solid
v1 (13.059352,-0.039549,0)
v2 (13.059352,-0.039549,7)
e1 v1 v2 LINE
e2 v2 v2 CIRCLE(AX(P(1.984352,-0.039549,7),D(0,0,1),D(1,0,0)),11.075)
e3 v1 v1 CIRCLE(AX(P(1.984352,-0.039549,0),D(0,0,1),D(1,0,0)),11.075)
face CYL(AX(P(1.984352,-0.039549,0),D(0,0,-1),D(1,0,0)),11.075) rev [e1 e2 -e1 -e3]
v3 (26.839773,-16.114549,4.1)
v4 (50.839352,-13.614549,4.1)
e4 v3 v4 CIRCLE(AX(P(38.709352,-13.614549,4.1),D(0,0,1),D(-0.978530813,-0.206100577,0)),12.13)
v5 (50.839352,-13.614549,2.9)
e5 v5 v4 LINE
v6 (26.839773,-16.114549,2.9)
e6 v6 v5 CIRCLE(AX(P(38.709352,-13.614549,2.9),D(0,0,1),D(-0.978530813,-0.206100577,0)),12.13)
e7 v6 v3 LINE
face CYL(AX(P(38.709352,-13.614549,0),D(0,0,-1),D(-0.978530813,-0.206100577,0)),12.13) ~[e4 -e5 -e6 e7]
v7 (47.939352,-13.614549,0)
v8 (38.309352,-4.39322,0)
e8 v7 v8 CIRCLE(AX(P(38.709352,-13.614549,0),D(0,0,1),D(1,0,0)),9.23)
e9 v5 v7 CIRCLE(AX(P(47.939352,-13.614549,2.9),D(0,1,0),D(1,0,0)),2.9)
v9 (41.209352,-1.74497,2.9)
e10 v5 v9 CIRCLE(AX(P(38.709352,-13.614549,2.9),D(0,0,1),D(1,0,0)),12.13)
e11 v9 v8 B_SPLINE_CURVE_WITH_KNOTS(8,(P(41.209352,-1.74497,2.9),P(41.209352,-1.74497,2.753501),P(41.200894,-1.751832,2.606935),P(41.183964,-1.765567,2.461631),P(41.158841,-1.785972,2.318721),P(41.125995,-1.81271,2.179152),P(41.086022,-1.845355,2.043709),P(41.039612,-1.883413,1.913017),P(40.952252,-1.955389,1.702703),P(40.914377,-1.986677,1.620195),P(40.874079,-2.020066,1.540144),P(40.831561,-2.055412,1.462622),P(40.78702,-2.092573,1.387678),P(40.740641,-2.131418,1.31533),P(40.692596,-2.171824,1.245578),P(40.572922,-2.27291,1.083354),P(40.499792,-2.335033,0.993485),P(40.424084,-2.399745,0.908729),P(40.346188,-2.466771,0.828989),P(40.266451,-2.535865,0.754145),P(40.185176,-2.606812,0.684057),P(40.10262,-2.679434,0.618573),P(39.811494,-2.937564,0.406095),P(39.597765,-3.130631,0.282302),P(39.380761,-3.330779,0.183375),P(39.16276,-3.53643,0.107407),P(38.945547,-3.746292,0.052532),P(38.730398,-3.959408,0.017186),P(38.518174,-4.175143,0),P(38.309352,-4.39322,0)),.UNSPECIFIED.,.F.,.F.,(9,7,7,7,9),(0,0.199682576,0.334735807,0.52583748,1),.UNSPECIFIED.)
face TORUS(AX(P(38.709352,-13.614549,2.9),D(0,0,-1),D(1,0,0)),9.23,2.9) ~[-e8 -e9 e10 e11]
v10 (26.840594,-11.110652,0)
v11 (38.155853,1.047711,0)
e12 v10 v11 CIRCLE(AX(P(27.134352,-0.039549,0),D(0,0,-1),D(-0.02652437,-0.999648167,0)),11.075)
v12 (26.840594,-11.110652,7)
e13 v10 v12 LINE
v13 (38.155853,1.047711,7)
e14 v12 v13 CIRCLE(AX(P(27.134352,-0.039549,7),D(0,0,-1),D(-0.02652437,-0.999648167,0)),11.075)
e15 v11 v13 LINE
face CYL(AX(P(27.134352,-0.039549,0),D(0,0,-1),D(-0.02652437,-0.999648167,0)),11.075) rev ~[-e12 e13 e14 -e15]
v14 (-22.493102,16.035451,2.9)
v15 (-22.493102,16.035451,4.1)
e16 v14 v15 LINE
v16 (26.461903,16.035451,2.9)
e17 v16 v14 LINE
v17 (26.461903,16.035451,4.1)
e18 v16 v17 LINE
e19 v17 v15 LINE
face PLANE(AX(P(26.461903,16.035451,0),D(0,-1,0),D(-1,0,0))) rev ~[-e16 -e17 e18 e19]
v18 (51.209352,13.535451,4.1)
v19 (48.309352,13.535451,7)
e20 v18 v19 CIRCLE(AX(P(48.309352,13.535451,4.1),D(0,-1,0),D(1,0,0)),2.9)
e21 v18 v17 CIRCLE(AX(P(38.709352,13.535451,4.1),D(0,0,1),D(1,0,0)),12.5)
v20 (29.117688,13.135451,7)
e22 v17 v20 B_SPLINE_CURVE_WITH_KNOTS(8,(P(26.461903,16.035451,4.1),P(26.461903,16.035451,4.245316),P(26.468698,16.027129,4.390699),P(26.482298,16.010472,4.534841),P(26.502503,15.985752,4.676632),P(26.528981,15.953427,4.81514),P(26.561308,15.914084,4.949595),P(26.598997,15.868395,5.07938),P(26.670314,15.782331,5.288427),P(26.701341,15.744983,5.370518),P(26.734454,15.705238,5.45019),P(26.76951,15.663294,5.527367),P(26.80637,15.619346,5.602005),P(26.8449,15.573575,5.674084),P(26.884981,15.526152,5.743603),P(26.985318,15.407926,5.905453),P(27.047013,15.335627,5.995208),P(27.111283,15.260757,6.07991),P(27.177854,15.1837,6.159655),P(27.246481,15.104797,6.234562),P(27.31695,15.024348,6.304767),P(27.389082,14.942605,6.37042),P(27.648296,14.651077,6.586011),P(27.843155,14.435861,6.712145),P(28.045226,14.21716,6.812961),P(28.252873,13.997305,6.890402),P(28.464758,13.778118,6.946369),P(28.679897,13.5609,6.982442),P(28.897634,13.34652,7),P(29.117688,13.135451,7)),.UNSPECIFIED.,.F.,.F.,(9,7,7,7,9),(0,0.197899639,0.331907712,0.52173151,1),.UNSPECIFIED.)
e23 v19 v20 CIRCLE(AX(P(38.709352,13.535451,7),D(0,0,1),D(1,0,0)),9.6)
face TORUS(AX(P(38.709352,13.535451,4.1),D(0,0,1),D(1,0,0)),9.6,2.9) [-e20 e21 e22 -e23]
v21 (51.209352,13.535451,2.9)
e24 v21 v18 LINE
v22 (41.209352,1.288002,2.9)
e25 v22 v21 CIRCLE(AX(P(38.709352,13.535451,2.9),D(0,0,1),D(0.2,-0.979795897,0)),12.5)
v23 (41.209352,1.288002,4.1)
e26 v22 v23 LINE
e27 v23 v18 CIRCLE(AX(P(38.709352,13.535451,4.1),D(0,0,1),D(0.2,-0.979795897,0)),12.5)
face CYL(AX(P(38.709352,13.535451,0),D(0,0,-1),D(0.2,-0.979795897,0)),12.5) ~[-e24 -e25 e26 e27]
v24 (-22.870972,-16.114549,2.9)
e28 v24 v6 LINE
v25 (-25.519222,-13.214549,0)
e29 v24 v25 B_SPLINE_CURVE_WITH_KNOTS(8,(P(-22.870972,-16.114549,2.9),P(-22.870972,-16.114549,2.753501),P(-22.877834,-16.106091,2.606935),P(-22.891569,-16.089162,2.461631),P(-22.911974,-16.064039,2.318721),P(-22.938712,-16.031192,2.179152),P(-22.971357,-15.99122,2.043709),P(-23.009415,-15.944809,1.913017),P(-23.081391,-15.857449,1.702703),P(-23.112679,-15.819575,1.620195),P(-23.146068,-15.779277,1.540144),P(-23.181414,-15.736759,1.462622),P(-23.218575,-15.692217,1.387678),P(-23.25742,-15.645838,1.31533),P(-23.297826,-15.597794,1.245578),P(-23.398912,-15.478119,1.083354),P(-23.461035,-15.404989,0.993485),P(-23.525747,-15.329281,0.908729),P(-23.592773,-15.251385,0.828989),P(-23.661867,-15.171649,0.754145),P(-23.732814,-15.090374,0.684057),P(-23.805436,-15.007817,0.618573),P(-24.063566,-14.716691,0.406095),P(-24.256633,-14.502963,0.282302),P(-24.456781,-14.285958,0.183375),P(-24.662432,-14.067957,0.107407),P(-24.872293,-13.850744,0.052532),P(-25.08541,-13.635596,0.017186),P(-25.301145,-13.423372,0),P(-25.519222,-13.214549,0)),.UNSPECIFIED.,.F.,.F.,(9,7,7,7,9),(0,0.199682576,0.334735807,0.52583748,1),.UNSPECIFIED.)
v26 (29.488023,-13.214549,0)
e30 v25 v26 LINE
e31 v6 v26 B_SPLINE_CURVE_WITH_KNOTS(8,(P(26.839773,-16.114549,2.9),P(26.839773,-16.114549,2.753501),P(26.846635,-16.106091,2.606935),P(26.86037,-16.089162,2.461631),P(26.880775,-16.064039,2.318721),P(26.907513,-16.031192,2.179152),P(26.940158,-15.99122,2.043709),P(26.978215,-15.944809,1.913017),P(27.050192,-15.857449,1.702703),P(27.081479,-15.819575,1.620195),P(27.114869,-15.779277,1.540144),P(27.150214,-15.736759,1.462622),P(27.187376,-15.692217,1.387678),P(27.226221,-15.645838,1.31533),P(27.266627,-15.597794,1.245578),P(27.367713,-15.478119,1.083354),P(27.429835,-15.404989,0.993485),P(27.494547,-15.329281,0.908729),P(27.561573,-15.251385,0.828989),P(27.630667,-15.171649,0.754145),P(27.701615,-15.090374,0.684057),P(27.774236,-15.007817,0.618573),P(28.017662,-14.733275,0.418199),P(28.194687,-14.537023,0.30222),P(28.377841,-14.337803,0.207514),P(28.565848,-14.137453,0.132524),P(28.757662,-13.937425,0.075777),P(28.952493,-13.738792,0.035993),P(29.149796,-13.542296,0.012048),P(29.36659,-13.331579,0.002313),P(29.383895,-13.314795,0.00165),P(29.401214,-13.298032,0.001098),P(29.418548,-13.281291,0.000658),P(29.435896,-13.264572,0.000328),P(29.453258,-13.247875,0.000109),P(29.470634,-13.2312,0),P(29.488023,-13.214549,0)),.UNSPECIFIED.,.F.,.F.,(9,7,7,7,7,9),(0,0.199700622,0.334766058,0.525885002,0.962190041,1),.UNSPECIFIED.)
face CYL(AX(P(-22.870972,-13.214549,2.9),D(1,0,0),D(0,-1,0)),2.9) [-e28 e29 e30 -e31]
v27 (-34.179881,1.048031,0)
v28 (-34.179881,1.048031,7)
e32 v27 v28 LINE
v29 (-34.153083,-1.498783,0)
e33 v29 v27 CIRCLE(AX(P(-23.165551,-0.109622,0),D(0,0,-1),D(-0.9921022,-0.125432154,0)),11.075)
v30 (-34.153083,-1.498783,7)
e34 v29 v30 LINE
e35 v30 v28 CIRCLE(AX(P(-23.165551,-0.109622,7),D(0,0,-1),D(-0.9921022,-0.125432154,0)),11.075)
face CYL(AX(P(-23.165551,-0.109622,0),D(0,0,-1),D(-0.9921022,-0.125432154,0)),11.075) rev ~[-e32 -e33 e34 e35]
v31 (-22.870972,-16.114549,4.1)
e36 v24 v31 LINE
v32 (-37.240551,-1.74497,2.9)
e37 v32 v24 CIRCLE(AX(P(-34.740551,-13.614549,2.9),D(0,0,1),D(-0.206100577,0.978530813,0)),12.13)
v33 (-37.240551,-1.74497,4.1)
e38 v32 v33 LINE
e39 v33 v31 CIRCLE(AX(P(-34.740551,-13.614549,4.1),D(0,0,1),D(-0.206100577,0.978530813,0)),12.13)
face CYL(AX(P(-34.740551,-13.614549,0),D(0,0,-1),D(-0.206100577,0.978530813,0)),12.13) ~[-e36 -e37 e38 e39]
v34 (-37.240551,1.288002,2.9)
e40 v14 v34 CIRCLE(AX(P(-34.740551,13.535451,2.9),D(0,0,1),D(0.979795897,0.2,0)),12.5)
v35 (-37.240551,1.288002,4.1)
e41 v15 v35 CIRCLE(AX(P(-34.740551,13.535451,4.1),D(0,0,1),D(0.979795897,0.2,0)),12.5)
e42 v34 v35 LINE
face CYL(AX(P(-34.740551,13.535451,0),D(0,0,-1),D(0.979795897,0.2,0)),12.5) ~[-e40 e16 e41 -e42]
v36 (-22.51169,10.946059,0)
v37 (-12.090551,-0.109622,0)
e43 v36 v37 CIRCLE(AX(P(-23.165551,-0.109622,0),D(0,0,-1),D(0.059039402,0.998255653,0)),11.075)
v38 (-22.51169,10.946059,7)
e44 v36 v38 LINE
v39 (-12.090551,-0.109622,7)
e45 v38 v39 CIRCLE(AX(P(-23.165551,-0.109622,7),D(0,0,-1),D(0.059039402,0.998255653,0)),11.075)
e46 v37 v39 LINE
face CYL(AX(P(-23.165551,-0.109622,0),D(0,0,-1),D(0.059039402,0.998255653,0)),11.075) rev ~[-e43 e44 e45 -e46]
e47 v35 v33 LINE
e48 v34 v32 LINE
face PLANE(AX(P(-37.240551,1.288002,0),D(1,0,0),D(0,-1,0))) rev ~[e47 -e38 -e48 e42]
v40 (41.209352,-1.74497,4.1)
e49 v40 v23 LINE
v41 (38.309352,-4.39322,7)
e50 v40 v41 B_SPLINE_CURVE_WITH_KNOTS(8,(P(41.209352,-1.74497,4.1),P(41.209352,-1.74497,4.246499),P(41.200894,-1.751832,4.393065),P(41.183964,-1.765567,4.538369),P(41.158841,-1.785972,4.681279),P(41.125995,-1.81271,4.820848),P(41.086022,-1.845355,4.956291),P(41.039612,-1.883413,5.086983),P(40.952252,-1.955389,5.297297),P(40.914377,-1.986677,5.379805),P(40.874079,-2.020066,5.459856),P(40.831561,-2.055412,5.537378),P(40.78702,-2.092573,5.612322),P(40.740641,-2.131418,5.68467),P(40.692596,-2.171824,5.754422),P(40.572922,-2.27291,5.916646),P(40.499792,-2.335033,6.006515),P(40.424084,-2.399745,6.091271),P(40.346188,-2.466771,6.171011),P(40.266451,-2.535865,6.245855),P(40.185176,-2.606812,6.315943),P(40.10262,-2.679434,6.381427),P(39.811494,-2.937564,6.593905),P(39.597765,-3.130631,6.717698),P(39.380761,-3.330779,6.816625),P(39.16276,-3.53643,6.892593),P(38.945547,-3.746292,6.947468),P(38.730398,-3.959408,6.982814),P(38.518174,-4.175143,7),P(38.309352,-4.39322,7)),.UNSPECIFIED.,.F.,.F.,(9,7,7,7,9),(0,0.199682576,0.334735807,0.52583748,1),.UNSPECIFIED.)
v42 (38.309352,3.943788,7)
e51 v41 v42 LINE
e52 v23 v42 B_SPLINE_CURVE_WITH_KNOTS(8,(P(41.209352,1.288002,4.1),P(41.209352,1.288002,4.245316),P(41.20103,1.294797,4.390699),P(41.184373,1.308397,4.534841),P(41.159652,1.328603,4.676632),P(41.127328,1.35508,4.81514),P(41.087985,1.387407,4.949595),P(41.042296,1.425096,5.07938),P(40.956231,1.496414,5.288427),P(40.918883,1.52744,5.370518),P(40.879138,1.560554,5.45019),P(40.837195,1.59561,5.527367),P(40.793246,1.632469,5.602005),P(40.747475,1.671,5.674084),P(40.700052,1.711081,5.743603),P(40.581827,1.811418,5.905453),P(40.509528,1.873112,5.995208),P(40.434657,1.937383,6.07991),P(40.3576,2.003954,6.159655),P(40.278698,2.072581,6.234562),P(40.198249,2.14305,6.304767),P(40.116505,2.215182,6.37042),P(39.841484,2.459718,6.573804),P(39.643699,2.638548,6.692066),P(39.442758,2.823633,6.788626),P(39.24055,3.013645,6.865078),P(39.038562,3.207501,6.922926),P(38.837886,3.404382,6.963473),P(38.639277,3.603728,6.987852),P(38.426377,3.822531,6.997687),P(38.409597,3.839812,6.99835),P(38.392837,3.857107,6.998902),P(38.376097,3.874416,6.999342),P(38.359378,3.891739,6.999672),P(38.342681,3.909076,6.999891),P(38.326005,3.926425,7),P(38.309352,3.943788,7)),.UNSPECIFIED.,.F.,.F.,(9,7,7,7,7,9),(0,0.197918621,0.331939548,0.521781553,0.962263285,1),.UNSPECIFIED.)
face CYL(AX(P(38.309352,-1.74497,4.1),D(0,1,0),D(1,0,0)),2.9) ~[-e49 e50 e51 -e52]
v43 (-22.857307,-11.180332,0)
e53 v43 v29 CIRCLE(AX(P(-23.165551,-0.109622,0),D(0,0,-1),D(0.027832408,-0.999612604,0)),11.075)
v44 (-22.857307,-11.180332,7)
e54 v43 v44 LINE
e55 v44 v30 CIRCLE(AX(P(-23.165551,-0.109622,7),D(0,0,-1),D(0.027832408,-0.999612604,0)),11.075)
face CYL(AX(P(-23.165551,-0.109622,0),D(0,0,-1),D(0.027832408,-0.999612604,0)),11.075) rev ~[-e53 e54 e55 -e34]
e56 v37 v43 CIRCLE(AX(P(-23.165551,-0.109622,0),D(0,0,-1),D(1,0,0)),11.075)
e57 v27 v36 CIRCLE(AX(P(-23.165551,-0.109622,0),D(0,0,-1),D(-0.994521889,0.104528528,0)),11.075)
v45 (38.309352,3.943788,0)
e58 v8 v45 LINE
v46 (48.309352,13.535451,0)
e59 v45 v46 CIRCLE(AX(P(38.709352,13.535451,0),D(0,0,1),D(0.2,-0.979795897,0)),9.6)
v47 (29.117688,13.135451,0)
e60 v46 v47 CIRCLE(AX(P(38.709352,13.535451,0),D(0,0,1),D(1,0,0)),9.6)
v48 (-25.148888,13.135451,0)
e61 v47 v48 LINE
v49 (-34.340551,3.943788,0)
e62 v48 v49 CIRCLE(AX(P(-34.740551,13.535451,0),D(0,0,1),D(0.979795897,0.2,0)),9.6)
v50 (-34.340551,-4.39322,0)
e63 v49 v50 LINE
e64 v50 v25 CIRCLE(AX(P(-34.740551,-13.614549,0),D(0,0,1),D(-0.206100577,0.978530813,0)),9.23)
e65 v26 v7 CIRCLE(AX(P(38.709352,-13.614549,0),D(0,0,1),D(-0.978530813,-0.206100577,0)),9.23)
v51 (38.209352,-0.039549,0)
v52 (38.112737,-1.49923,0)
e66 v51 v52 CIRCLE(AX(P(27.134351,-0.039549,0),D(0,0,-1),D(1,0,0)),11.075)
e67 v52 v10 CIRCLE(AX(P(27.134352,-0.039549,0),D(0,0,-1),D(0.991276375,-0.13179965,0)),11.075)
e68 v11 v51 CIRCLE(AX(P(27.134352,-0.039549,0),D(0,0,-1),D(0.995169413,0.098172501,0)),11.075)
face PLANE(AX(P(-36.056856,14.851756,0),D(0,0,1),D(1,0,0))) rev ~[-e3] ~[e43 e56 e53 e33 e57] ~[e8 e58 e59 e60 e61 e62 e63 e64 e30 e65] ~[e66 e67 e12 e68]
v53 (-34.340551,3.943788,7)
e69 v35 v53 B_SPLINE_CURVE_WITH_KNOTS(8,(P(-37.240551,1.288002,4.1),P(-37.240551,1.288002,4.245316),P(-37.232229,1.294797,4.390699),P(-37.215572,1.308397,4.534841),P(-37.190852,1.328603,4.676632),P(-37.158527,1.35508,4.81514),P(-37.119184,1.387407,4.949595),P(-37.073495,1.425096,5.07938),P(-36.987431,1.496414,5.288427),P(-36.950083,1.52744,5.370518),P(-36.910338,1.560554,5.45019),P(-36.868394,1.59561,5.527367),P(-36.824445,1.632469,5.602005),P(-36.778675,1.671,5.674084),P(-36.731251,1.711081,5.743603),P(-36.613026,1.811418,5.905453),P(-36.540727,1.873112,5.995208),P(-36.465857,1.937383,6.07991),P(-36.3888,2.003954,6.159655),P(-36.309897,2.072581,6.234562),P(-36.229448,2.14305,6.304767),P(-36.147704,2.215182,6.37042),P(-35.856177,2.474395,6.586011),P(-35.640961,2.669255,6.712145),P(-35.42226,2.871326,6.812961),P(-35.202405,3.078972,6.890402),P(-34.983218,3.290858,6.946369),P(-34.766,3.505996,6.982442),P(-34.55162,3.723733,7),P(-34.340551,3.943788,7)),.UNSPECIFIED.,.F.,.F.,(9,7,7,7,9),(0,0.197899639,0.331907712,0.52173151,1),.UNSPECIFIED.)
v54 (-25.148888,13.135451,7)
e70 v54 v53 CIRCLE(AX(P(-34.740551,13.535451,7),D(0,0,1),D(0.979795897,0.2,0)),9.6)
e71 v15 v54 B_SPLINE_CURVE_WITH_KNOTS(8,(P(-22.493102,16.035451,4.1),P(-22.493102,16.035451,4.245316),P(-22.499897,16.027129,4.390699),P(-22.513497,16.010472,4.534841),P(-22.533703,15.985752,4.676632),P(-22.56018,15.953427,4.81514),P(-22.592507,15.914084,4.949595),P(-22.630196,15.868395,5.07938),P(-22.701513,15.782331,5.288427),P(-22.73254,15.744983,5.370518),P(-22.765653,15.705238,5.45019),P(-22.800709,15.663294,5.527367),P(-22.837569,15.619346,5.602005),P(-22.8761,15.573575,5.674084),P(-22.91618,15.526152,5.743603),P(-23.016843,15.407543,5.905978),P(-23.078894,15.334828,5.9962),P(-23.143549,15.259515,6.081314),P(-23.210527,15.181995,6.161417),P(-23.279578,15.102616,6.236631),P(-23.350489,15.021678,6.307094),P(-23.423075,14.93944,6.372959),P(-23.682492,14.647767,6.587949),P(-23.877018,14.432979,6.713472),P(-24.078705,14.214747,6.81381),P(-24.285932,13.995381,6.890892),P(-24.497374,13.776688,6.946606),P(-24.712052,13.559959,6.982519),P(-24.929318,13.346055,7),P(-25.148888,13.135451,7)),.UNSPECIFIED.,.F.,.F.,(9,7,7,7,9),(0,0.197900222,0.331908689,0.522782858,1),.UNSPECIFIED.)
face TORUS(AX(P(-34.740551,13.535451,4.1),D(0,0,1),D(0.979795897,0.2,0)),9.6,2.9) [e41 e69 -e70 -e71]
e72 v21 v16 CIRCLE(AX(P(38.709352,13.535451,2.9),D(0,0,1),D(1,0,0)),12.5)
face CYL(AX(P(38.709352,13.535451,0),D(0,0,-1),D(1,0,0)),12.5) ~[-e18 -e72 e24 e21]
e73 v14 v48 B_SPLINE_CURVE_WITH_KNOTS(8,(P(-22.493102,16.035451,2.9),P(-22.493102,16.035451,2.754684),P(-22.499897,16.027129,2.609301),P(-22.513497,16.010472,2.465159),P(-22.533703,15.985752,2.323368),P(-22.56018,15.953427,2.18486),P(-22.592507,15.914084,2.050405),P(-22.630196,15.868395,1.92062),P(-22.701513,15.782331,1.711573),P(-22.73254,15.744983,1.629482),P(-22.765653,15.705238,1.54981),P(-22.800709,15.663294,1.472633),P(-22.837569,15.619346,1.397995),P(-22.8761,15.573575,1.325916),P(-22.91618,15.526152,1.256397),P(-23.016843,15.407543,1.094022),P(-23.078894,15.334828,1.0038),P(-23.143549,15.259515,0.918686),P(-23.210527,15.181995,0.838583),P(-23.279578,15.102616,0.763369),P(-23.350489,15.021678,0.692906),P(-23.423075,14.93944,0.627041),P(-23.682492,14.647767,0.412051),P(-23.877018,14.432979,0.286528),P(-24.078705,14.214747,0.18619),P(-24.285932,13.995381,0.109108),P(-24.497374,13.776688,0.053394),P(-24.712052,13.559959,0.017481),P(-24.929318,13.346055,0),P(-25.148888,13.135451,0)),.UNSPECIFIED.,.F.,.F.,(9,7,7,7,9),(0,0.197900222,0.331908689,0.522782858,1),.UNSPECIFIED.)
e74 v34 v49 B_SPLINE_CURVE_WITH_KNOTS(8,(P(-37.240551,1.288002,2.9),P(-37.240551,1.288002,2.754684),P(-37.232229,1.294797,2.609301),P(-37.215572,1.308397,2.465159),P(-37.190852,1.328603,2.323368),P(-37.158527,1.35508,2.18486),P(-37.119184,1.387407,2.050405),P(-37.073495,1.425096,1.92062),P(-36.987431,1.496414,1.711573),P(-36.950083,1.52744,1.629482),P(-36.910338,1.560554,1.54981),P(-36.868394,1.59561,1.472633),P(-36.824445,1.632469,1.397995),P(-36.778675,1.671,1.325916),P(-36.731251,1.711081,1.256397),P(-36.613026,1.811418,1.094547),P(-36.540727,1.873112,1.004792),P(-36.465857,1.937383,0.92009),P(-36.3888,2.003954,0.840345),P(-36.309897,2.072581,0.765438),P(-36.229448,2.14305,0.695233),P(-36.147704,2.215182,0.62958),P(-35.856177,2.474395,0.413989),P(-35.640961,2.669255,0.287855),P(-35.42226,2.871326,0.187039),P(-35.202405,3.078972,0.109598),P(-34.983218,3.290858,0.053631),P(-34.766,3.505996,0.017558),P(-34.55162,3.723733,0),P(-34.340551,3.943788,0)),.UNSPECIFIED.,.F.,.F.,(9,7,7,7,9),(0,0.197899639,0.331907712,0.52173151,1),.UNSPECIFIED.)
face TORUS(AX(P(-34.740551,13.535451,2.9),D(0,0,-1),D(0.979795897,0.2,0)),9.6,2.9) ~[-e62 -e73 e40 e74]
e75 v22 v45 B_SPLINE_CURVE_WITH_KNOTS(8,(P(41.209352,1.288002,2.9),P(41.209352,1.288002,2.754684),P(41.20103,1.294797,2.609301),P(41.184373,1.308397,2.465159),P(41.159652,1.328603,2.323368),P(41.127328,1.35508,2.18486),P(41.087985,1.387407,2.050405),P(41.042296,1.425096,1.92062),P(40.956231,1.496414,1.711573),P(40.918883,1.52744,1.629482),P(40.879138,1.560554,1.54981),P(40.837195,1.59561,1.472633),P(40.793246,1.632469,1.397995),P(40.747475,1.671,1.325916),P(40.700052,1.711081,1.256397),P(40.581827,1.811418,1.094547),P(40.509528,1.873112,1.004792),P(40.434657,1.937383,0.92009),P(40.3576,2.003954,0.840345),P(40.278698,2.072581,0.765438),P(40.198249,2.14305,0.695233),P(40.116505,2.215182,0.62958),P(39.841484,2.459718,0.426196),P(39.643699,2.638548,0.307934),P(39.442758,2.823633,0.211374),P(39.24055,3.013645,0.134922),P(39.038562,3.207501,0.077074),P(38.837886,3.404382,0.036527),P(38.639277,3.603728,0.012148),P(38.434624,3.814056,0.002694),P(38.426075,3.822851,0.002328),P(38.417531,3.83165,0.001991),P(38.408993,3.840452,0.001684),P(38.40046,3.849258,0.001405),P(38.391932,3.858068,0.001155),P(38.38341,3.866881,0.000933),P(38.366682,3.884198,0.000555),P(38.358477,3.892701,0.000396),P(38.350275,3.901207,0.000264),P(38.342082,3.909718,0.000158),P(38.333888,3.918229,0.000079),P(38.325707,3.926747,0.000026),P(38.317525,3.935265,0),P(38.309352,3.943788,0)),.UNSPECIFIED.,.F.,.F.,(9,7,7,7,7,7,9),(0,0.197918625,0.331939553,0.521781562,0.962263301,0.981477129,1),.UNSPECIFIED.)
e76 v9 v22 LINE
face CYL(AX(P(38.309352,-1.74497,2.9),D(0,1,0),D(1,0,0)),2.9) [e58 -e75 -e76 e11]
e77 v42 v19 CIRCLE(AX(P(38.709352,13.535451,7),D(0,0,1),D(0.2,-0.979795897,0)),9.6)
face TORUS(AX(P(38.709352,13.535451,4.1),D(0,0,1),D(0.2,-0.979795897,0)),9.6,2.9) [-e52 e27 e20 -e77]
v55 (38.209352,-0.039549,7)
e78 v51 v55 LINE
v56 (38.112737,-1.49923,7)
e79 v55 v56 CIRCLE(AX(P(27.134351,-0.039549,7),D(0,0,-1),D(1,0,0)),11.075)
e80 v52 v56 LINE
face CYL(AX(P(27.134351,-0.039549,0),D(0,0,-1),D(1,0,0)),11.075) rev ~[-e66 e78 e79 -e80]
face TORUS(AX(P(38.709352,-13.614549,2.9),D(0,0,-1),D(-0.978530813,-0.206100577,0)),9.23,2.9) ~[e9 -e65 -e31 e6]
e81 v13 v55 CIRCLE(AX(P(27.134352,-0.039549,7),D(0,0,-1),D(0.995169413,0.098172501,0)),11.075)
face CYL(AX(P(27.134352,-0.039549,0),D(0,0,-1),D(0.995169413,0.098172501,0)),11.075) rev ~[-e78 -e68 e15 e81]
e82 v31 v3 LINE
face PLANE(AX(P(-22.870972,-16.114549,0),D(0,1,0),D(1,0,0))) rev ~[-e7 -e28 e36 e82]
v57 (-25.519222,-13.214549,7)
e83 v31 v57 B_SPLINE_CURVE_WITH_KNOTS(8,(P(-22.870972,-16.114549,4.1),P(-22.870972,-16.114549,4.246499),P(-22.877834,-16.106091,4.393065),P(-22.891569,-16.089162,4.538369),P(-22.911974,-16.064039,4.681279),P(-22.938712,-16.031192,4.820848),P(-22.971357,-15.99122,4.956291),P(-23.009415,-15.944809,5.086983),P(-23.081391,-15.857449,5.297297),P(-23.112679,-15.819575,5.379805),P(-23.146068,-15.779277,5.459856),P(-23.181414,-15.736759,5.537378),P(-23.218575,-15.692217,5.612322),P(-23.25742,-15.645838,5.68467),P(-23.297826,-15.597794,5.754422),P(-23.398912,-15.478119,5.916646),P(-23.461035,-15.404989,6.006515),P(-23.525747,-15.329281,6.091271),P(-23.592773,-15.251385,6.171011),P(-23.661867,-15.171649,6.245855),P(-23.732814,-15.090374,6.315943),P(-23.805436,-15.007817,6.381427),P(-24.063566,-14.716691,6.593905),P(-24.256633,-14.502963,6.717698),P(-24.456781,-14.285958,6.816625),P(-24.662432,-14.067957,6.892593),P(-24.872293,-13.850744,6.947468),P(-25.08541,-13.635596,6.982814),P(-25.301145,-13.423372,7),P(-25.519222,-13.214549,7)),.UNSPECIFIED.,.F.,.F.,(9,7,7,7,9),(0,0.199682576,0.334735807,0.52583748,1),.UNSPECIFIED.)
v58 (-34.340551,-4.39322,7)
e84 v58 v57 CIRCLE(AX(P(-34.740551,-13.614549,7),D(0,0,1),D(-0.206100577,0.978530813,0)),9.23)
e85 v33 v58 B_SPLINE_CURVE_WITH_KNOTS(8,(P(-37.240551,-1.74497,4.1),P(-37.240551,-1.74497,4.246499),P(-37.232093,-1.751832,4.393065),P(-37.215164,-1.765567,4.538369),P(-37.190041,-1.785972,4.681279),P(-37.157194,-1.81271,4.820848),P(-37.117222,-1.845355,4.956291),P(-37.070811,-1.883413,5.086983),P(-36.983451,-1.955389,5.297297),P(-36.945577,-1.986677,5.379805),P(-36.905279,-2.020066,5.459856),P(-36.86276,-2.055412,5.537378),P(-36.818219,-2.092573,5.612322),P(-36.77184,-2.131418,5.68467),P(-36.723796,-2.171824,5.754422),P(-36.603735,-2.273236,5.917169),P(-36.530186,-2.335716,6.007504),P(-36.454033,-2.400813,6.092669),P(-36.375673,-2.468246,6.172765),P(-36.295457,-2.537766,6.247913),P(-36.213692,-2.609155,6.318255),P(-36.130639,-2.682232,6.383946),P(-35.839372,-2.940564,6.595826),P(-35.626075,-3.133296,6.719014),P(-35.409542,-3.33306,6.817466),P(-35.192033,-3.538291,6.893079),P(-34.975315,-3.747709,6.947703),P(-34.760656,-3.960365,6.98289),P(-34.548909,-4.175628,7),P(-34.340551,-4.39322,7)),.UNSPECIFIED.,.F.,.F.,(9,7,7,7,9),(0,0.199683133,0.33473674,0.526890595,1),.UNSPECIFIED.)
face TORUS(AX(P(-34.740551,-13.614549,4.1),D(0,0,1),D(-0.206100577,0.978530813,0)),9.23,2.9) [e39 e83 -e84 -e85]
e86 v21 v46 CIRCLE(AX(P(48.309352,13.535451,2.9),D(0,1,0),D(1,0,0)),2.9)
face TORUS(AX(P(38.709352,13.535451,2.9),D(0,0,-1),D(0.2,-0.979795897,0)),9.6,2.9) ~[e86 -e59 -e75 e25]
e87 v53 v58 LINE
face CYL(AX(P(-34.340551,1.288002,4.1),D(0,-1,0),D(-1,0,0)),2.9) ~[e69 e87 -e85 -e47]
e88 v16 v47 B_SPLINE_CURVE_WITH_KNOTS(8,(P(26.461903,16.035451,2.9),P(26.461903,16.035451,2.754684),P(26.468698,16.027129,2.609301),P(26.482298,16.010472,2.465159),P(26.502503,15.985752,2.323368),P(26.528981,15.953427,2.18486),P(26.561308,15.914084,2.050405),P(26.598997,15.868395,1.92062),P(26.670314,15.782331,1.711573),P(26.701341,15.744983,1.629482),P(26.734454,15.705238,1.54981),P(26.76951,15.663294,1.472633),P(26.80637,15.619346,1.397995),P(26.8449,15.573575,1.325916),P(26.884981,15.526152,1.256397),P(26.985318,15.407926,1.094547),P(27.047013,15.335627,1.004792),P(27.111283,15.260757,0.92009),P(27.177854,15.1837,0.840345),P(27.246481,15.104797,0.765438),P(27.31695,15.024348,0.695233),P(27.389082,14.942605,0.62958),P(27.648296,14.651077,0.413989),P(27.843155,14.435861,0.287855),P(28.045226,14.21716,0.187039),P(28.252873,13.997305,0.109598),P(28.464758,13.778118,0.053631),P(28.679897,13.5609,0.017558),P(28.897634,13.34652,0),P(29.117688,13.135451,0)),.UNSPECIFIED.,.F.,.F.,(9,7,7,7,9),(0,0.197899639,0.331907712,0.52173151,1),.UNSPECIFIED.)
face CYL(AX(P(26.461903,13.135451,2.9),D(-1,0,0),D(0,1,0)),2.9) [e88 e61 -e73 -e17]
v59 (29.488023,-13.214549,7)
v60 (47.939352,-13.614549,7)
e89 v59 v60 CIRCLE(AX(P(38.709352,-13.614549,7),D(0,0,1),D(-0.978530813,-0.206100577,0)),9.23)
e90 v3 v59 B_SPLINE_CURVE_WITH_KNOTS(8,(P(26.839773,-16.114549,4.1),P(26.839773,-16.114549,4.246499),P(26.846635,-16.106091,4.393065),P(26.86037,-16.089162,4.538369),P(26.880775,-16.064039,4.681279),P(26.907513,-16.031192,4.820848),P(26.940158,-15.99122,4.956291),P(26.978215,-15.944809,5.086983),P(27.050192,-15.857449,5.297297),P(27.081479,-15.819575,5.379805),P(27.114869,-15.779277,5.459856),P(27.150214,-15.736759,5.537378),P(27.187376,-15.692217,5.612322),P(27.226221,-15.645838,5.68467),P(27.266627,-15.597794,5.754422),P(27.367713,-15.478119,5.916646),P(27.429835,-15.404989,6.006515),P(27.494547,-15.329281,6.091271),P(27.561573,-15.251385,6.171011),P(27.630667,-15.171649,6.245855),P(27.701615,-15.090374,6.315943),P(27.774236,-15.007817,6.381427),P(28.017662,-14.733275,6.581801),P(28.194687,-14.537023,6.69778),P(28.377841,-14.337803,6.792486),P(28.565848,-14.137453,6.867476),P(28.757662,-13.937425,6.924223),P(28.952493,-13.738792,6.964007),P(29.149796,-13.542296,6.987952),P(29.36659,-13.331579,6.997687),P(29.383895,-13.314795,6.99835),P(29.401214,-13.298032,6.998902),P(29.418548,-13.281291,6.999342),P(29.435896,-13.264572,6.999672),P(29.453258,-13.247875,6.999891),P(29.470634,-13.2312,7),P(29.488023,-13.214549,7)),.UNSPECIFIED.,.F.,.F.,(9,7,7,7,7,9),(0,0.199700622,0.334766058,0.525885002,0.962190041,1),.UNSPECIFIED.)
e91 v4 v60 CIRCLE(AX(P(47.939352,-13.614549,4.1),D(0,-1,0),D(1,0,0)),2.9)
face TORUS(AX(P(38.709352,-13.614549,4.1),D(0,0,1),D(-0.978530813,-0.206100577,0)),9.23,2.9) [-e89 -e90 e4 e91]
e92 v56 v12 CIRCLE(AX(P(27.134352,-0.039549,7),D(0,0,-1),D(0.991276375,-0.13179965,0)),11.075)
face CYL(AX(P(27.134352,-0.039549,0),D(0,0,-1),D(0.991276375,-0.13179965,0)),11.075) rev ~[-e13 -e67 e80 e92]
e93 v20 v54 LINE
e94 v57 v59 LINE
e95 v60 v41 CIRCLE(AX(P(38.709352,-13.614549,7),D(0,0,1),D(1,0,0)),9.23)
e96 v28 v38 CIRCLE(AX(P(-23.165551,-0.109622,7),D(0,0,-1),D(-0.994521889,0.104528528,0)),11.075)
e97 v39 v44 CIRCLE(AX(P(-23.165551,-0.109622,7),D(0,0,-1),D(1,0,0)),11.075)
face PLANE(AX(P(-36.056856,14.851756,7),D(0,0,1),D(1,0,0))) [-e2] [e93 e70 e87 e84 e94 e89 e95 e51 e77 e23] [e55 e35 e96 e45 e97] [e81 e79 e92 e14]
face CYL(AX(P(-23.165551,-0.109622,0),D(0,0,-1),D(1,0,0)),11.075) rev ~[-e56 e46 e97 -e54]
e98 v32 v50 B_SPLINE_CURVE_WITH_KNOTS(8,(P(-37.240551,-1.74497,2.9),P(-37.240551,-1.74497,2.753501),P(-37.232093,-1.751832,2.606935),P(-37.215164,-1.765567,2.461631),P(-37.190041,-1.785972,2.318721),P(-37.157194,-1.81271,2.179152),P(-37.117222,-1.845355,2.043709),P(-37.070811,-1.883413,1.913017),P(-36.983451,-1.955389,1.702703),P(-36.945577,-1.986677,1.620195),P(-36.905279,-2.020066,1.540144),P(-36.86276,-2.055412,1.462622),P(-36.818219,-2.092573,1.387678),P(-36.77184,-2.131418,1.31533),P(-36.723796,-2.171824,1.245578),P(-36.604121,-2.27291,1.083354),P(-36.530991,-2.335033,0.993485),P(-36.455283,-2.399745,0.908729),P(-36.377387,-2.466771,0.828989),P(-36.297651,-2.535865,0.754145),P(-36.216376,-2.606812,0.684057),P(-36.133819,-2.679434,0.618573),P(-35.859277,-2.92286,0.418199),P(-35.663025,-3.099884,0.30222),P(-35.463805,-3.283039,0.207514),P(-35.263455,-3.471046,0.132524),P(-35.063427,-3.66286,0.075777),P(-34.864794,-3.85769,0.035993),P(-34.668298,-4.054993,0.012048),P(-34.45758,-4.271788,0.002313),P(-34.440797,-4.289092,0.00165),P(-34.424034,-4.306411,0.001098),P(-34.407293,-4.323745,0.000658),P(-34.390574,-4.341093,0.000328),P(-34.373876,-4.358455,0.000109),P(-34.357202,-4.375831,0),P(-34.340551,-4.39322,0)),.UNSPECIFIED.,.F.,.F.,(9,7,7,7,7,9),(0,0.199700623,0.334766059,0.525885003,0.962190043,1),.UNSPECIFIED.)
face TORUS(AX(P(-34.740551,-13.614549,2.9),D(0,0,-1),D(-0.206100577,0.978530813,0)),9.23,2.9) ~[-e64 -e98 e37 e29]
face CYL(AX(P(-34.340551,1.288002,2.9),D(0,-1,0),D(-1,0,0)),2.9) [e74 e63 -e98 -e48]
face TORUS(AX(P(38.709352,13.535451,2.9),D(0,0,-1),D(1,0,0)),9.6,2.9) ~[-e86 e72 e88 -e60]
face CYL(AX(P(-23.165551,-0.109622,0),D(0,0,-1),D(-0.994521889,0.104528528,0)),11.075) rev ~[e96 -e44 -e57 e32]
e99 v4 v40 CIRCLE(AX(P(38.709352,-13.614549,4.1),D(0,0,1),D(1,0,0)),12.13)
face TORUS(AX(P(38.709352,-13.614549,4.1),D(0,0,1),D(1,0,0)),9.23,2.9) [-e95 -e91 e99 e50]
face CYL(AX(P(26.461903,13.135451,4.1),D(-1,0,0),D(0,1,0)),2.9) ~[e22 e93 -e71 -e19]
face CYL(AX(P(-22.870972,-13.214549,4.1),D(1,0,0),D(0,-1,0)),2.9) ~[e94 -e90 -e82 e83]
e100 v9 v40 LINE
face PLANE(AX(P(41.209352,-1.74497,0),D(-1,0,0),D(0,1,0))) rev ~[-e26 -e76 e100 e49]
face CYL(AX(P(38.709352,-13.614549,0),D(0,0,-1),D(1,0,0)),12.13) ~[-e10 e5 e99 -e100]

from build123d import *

# Parameters (mm, degrees)
F0_R     = 11.075
F1_DEPTH = 7
F2_R     = 2.9


with BuildPart() as f1:
    # F0 (on Top) → F1 (new body)
    with BuildSketch(Plane.XY):
        with BuildLine():
            Line((-37.2405508759, 16.0354509738), (-22.493102162, 16.0354509738))
            ThreePointArc((-22.493102162, 16.0354509738), (-43.5793856408, 22.3742857386), (-37.2405508759, 1.2880022599))
            Line((-37.2405508759, 1.2880022599), (-37.2405508759, 16.0354509738))
        make_face()
        with BuildLine():
            ThreePointArc((-22.2405508759, 13.5354509738), (-22.3038489634, 14.7918129989), (-22.493102162, 16.0354509738))
            Line((-22.493102162, 16.0354509738), (-37.2405508759, 16.0354509738))
            Line((-37.2405508759, 16.0354509738), (-37.2405508759, 1.2880022599))
            ThreePointArc((-37.2405508759, 1.2880022599), (-35.7176110792, 1.0736953447), (-34.1798807916, 1.0480313422))
            ThreePointArc((-34.1798807916, 1.0480313422), (-30.3298768194, 8.3359719383), (-22.5116895017, 10.9460592517))
            ThreePointArc((-22.5116895017, 10.9460592517), (-22.3085203262, 12.2336766419), (-22.2405508759, 13.5354509738))
        make_face()
        with BuildLine():
            ThreePointArc((26.8405941114, -11.1106524759), (16.0609380304, -0.2270030832), (26.4660399044, 11.0152682317))
            ThreePointArc((26.4660399044, 11.0152682317), (26.2093557494, 13.525149775), (26.4619027909, 16.0354509738))
            Line((26.4619027909, 16.0354509738), (-22.493102162, 16.0354509738))
            ThreePointArc((-22.493102162, 16.0354509738), (-22.3038489634, 14.7918129989), (-22.2405508759, 13.5354509738))
            ThreePointArc((-22.2405508759, 13.5354509738), (-22.3085203262, 12.2336766419), (-22.5116895017, 10.9460592517))
            ThreePointArc((-22.5116895017, 10.9460592517), (-15.1064833207, 7.4868938801), (-12.0905508759, -0.1096221069))
            ThreePointArc((-12.0905508759, -0.1096221069), (-15.2261105188, -7.8310799884), (-22.8573069601, -11.1803316907))
            ThreePointArc((-22.8573069601, -11.1803316907), (-22.6723975644, -12.3912029384), (-22.6105508759, -13.6145490262))
            ThreePointArc((-22.6105508759, -13.6145490262), (-22.6758318492, -14.8713126496), (-22.8709721134, -16.1145490262))
            Line((-22.8709721134, -16.1145490262), (26.8397727423, -16.1145490262))
            ThreePointArc((26.8397727423, -16.1145490262), (26.5793516683, -13.6125579366), (26.8405941114, -11.1106524759))
        make_face()
        with Locations((1.9843515049, -0.0395490262)):
            Circle(F0_R, mode=Mode.SUBTRACT)
        with BuildLine():
            Line((41.2093515049, 16.0354509738), (41.2093515049, 1.2880022599))
            ThreePointArc((41.2093515049, 1.2880022599), (48.3918098704, 5.6297568234), (51.2093515049, 13.5354509738))
            ThreePointArc((51.2093515049, 13.5354509738), (39.9657135299, 25.9721528864), (26.4619027909, 16.0354509738))
            Line((26.4619027909, 16.0354509738), (41.2093515049, 16.0354509738))
        make_face()
        with BuildLine():
            ThreePointArc((38.155852751, 1.0477114214), (38.1959687307, 0.5047389026), (38.2093515049, -0.0395490262))
            ThreePointArc((38.2093515049, -0.0395490262), (38.1851715732, -0.770986526), (38.112737362, -1.4992301462))
            ThreePointArc((38.112737362, -1.4992301462), (39.6689433356, -1.522564759), (41.2093515049, -1.7449702637))
            Line((41.2093515049, -1.7449702637), (41.2093515049, 1.2880022599))
            ThreePointArc((41.2093515049, 1.2880022599), (39.6899899179, 1.0739764101), (38.155852751, 1.0477114214))
        make_face()
        with BuildLine():
            ThreePointArc((41.2093515049, -1.7449702637), (39.6689433356, -1.522564759), (38.112737362, -1.4992301462))
            ThreePointArc((38.112737362, -1.4992301462), (34.3201138967, -8.4669118313), (26.8405941114, -11.1106524759))
            ThreePointArc((26.8405941114, -11.1106524759), (26.5793516683, -13.6125579366), (26.8397727423, -16.1145490262))
            Line((26.8397727423, -16.1145490262), (41.2093515049, -16.1145490262))
            Line((41.2093515049, -16.1145490262), (41.2093515049, -1.7449702637))
        make_face()
        with BuildLine():
            ThreePointArc((50.8393515049, -13.6145490262), (48.1290622223, -5.9721704697), (41.2093515049, -1.7449702637))
            Line((41.2093515049, -1.7449702637), (41.2093515049, -16.1145490262))
            Line((41.2093515049, -16.1145490262), (26.8397727423, -16.1145490262))
            ThreePointArc((26.8397727423, -16.1145490262), (39.9661151283, -25.6792680529), (50.8393515049, -13.6145490262))
        make_face()
        with BuildLine():
            ThreePointArc((-37.2405508759, -1.7449702637), (-43.3177561317, -22.191754282), (-22.8709721134, -16.1145490262))
            Line((-22.8709721134, -16.1145490262), (-37.2405508759, -16.1145490262))
            Line((-37.2405508759, -16.1145490262), (-37.2405508759, -1.7449702637))
        make_face()
        with BuildLine():
            ThreePointArc((-34.1798807916, 1.0480313422), (-35.7176110792, 1.0736953447), (-37.2405508759, 1.2880022599))
            Line((-37.2405508759, 1.2880022599), (-37.2405508759, -1.7449702637))
            ThreePointArc((-37.2405508759, -1.7449702637), (-35.7047067484, -1.5229278175), (-34.1530827378, -1.4987832152))
            ThreePointArc((-34.1530827378, -1.4987832152), (-34.2399378349, -0.2261488549), (-34.1798807916, 1.0480313422))
        make_face()
        with BuildLine():
            Line((-37.2405508759, -16.1145490262), (-22.8709721134, -16.1145490262))
            ThreePointArc((-22.8709721134, -16.1145490262), (-22.6758318492, -14.8713126496), (-22.6105508759, -13.6145490262))
            ThreePointArc((-22.6105508759, -13.6145490262), (-22.6723975644, -12.3912029384), (-22.8573069601, -11.1803316907))
            ThreePointArc((-22.8573069601, -11.1803316907), (-30.3728314296, -8.5185894645), (-34.1530827378, -1.4987832152))
            ThreePointArc((-34.1530827378, -1.4987832152), (-35.7047067484, -1.5229278175), (-37.2405508759, -1.7449702637))
            Line((-37.2405508759, -1.7449702637), (-37.2405508759, -16.1145490262))
        make_face()
        with BuildLine():
            ThreePointArc((26.4660399044, 11.0152682317), (34.3201138967, 8.3878137789), (38.155852751, 1.0477114214))
            ThreePointArc((38.155852751, 1.0477114214), (39.6899899179, 1.0739764101), (41.2093515049, 1.2880022599))
            Line((41.2093515049, 1.2880022599), (41.2093515049, 16.0354509738))
            Line((41.2093515049, 16.0354509738), (26.4619027909, 16.0354509738))
            ThreePointArc((26.4619027909, 16.0354509738), (26.2093557494, 13.525149775), (26.4660399044, 11.0152682317))
        make_face()
    extrude(amount=F1_DEPTH)

    # F2
    f2_edges = [f1.edges().sort_by_distance(p)[0] for p in [
        (-43.317756, -22.191754, 7),
        (1.9844, -16.114549, 7),
        (47.286557, -22.191754, 7),
        (41.209352, -0.228484, 7),
        (47.548186, 22.374286, 7),
        (1.9844, 16.035451, 7),
        (-43.579386, 22.374286, 0),
        (-43.579386, 22.374286, 7),
        (-37.240551, -0.228484, 7),
        (-43.317756, -22.191754, 0),
        (-37.240551, -0.228484, 0),
        (1.9844, -16.114549, 0),
        (1.9844, 16.035451, 0),
        (47.286557, -22.191754, 0),
        (47.548186, 22.374286, 0),
        (41.209352, -0.228484, 0),
    ]]
    fillet(f2_edges, radius=F2_R)


solid = f1.part
